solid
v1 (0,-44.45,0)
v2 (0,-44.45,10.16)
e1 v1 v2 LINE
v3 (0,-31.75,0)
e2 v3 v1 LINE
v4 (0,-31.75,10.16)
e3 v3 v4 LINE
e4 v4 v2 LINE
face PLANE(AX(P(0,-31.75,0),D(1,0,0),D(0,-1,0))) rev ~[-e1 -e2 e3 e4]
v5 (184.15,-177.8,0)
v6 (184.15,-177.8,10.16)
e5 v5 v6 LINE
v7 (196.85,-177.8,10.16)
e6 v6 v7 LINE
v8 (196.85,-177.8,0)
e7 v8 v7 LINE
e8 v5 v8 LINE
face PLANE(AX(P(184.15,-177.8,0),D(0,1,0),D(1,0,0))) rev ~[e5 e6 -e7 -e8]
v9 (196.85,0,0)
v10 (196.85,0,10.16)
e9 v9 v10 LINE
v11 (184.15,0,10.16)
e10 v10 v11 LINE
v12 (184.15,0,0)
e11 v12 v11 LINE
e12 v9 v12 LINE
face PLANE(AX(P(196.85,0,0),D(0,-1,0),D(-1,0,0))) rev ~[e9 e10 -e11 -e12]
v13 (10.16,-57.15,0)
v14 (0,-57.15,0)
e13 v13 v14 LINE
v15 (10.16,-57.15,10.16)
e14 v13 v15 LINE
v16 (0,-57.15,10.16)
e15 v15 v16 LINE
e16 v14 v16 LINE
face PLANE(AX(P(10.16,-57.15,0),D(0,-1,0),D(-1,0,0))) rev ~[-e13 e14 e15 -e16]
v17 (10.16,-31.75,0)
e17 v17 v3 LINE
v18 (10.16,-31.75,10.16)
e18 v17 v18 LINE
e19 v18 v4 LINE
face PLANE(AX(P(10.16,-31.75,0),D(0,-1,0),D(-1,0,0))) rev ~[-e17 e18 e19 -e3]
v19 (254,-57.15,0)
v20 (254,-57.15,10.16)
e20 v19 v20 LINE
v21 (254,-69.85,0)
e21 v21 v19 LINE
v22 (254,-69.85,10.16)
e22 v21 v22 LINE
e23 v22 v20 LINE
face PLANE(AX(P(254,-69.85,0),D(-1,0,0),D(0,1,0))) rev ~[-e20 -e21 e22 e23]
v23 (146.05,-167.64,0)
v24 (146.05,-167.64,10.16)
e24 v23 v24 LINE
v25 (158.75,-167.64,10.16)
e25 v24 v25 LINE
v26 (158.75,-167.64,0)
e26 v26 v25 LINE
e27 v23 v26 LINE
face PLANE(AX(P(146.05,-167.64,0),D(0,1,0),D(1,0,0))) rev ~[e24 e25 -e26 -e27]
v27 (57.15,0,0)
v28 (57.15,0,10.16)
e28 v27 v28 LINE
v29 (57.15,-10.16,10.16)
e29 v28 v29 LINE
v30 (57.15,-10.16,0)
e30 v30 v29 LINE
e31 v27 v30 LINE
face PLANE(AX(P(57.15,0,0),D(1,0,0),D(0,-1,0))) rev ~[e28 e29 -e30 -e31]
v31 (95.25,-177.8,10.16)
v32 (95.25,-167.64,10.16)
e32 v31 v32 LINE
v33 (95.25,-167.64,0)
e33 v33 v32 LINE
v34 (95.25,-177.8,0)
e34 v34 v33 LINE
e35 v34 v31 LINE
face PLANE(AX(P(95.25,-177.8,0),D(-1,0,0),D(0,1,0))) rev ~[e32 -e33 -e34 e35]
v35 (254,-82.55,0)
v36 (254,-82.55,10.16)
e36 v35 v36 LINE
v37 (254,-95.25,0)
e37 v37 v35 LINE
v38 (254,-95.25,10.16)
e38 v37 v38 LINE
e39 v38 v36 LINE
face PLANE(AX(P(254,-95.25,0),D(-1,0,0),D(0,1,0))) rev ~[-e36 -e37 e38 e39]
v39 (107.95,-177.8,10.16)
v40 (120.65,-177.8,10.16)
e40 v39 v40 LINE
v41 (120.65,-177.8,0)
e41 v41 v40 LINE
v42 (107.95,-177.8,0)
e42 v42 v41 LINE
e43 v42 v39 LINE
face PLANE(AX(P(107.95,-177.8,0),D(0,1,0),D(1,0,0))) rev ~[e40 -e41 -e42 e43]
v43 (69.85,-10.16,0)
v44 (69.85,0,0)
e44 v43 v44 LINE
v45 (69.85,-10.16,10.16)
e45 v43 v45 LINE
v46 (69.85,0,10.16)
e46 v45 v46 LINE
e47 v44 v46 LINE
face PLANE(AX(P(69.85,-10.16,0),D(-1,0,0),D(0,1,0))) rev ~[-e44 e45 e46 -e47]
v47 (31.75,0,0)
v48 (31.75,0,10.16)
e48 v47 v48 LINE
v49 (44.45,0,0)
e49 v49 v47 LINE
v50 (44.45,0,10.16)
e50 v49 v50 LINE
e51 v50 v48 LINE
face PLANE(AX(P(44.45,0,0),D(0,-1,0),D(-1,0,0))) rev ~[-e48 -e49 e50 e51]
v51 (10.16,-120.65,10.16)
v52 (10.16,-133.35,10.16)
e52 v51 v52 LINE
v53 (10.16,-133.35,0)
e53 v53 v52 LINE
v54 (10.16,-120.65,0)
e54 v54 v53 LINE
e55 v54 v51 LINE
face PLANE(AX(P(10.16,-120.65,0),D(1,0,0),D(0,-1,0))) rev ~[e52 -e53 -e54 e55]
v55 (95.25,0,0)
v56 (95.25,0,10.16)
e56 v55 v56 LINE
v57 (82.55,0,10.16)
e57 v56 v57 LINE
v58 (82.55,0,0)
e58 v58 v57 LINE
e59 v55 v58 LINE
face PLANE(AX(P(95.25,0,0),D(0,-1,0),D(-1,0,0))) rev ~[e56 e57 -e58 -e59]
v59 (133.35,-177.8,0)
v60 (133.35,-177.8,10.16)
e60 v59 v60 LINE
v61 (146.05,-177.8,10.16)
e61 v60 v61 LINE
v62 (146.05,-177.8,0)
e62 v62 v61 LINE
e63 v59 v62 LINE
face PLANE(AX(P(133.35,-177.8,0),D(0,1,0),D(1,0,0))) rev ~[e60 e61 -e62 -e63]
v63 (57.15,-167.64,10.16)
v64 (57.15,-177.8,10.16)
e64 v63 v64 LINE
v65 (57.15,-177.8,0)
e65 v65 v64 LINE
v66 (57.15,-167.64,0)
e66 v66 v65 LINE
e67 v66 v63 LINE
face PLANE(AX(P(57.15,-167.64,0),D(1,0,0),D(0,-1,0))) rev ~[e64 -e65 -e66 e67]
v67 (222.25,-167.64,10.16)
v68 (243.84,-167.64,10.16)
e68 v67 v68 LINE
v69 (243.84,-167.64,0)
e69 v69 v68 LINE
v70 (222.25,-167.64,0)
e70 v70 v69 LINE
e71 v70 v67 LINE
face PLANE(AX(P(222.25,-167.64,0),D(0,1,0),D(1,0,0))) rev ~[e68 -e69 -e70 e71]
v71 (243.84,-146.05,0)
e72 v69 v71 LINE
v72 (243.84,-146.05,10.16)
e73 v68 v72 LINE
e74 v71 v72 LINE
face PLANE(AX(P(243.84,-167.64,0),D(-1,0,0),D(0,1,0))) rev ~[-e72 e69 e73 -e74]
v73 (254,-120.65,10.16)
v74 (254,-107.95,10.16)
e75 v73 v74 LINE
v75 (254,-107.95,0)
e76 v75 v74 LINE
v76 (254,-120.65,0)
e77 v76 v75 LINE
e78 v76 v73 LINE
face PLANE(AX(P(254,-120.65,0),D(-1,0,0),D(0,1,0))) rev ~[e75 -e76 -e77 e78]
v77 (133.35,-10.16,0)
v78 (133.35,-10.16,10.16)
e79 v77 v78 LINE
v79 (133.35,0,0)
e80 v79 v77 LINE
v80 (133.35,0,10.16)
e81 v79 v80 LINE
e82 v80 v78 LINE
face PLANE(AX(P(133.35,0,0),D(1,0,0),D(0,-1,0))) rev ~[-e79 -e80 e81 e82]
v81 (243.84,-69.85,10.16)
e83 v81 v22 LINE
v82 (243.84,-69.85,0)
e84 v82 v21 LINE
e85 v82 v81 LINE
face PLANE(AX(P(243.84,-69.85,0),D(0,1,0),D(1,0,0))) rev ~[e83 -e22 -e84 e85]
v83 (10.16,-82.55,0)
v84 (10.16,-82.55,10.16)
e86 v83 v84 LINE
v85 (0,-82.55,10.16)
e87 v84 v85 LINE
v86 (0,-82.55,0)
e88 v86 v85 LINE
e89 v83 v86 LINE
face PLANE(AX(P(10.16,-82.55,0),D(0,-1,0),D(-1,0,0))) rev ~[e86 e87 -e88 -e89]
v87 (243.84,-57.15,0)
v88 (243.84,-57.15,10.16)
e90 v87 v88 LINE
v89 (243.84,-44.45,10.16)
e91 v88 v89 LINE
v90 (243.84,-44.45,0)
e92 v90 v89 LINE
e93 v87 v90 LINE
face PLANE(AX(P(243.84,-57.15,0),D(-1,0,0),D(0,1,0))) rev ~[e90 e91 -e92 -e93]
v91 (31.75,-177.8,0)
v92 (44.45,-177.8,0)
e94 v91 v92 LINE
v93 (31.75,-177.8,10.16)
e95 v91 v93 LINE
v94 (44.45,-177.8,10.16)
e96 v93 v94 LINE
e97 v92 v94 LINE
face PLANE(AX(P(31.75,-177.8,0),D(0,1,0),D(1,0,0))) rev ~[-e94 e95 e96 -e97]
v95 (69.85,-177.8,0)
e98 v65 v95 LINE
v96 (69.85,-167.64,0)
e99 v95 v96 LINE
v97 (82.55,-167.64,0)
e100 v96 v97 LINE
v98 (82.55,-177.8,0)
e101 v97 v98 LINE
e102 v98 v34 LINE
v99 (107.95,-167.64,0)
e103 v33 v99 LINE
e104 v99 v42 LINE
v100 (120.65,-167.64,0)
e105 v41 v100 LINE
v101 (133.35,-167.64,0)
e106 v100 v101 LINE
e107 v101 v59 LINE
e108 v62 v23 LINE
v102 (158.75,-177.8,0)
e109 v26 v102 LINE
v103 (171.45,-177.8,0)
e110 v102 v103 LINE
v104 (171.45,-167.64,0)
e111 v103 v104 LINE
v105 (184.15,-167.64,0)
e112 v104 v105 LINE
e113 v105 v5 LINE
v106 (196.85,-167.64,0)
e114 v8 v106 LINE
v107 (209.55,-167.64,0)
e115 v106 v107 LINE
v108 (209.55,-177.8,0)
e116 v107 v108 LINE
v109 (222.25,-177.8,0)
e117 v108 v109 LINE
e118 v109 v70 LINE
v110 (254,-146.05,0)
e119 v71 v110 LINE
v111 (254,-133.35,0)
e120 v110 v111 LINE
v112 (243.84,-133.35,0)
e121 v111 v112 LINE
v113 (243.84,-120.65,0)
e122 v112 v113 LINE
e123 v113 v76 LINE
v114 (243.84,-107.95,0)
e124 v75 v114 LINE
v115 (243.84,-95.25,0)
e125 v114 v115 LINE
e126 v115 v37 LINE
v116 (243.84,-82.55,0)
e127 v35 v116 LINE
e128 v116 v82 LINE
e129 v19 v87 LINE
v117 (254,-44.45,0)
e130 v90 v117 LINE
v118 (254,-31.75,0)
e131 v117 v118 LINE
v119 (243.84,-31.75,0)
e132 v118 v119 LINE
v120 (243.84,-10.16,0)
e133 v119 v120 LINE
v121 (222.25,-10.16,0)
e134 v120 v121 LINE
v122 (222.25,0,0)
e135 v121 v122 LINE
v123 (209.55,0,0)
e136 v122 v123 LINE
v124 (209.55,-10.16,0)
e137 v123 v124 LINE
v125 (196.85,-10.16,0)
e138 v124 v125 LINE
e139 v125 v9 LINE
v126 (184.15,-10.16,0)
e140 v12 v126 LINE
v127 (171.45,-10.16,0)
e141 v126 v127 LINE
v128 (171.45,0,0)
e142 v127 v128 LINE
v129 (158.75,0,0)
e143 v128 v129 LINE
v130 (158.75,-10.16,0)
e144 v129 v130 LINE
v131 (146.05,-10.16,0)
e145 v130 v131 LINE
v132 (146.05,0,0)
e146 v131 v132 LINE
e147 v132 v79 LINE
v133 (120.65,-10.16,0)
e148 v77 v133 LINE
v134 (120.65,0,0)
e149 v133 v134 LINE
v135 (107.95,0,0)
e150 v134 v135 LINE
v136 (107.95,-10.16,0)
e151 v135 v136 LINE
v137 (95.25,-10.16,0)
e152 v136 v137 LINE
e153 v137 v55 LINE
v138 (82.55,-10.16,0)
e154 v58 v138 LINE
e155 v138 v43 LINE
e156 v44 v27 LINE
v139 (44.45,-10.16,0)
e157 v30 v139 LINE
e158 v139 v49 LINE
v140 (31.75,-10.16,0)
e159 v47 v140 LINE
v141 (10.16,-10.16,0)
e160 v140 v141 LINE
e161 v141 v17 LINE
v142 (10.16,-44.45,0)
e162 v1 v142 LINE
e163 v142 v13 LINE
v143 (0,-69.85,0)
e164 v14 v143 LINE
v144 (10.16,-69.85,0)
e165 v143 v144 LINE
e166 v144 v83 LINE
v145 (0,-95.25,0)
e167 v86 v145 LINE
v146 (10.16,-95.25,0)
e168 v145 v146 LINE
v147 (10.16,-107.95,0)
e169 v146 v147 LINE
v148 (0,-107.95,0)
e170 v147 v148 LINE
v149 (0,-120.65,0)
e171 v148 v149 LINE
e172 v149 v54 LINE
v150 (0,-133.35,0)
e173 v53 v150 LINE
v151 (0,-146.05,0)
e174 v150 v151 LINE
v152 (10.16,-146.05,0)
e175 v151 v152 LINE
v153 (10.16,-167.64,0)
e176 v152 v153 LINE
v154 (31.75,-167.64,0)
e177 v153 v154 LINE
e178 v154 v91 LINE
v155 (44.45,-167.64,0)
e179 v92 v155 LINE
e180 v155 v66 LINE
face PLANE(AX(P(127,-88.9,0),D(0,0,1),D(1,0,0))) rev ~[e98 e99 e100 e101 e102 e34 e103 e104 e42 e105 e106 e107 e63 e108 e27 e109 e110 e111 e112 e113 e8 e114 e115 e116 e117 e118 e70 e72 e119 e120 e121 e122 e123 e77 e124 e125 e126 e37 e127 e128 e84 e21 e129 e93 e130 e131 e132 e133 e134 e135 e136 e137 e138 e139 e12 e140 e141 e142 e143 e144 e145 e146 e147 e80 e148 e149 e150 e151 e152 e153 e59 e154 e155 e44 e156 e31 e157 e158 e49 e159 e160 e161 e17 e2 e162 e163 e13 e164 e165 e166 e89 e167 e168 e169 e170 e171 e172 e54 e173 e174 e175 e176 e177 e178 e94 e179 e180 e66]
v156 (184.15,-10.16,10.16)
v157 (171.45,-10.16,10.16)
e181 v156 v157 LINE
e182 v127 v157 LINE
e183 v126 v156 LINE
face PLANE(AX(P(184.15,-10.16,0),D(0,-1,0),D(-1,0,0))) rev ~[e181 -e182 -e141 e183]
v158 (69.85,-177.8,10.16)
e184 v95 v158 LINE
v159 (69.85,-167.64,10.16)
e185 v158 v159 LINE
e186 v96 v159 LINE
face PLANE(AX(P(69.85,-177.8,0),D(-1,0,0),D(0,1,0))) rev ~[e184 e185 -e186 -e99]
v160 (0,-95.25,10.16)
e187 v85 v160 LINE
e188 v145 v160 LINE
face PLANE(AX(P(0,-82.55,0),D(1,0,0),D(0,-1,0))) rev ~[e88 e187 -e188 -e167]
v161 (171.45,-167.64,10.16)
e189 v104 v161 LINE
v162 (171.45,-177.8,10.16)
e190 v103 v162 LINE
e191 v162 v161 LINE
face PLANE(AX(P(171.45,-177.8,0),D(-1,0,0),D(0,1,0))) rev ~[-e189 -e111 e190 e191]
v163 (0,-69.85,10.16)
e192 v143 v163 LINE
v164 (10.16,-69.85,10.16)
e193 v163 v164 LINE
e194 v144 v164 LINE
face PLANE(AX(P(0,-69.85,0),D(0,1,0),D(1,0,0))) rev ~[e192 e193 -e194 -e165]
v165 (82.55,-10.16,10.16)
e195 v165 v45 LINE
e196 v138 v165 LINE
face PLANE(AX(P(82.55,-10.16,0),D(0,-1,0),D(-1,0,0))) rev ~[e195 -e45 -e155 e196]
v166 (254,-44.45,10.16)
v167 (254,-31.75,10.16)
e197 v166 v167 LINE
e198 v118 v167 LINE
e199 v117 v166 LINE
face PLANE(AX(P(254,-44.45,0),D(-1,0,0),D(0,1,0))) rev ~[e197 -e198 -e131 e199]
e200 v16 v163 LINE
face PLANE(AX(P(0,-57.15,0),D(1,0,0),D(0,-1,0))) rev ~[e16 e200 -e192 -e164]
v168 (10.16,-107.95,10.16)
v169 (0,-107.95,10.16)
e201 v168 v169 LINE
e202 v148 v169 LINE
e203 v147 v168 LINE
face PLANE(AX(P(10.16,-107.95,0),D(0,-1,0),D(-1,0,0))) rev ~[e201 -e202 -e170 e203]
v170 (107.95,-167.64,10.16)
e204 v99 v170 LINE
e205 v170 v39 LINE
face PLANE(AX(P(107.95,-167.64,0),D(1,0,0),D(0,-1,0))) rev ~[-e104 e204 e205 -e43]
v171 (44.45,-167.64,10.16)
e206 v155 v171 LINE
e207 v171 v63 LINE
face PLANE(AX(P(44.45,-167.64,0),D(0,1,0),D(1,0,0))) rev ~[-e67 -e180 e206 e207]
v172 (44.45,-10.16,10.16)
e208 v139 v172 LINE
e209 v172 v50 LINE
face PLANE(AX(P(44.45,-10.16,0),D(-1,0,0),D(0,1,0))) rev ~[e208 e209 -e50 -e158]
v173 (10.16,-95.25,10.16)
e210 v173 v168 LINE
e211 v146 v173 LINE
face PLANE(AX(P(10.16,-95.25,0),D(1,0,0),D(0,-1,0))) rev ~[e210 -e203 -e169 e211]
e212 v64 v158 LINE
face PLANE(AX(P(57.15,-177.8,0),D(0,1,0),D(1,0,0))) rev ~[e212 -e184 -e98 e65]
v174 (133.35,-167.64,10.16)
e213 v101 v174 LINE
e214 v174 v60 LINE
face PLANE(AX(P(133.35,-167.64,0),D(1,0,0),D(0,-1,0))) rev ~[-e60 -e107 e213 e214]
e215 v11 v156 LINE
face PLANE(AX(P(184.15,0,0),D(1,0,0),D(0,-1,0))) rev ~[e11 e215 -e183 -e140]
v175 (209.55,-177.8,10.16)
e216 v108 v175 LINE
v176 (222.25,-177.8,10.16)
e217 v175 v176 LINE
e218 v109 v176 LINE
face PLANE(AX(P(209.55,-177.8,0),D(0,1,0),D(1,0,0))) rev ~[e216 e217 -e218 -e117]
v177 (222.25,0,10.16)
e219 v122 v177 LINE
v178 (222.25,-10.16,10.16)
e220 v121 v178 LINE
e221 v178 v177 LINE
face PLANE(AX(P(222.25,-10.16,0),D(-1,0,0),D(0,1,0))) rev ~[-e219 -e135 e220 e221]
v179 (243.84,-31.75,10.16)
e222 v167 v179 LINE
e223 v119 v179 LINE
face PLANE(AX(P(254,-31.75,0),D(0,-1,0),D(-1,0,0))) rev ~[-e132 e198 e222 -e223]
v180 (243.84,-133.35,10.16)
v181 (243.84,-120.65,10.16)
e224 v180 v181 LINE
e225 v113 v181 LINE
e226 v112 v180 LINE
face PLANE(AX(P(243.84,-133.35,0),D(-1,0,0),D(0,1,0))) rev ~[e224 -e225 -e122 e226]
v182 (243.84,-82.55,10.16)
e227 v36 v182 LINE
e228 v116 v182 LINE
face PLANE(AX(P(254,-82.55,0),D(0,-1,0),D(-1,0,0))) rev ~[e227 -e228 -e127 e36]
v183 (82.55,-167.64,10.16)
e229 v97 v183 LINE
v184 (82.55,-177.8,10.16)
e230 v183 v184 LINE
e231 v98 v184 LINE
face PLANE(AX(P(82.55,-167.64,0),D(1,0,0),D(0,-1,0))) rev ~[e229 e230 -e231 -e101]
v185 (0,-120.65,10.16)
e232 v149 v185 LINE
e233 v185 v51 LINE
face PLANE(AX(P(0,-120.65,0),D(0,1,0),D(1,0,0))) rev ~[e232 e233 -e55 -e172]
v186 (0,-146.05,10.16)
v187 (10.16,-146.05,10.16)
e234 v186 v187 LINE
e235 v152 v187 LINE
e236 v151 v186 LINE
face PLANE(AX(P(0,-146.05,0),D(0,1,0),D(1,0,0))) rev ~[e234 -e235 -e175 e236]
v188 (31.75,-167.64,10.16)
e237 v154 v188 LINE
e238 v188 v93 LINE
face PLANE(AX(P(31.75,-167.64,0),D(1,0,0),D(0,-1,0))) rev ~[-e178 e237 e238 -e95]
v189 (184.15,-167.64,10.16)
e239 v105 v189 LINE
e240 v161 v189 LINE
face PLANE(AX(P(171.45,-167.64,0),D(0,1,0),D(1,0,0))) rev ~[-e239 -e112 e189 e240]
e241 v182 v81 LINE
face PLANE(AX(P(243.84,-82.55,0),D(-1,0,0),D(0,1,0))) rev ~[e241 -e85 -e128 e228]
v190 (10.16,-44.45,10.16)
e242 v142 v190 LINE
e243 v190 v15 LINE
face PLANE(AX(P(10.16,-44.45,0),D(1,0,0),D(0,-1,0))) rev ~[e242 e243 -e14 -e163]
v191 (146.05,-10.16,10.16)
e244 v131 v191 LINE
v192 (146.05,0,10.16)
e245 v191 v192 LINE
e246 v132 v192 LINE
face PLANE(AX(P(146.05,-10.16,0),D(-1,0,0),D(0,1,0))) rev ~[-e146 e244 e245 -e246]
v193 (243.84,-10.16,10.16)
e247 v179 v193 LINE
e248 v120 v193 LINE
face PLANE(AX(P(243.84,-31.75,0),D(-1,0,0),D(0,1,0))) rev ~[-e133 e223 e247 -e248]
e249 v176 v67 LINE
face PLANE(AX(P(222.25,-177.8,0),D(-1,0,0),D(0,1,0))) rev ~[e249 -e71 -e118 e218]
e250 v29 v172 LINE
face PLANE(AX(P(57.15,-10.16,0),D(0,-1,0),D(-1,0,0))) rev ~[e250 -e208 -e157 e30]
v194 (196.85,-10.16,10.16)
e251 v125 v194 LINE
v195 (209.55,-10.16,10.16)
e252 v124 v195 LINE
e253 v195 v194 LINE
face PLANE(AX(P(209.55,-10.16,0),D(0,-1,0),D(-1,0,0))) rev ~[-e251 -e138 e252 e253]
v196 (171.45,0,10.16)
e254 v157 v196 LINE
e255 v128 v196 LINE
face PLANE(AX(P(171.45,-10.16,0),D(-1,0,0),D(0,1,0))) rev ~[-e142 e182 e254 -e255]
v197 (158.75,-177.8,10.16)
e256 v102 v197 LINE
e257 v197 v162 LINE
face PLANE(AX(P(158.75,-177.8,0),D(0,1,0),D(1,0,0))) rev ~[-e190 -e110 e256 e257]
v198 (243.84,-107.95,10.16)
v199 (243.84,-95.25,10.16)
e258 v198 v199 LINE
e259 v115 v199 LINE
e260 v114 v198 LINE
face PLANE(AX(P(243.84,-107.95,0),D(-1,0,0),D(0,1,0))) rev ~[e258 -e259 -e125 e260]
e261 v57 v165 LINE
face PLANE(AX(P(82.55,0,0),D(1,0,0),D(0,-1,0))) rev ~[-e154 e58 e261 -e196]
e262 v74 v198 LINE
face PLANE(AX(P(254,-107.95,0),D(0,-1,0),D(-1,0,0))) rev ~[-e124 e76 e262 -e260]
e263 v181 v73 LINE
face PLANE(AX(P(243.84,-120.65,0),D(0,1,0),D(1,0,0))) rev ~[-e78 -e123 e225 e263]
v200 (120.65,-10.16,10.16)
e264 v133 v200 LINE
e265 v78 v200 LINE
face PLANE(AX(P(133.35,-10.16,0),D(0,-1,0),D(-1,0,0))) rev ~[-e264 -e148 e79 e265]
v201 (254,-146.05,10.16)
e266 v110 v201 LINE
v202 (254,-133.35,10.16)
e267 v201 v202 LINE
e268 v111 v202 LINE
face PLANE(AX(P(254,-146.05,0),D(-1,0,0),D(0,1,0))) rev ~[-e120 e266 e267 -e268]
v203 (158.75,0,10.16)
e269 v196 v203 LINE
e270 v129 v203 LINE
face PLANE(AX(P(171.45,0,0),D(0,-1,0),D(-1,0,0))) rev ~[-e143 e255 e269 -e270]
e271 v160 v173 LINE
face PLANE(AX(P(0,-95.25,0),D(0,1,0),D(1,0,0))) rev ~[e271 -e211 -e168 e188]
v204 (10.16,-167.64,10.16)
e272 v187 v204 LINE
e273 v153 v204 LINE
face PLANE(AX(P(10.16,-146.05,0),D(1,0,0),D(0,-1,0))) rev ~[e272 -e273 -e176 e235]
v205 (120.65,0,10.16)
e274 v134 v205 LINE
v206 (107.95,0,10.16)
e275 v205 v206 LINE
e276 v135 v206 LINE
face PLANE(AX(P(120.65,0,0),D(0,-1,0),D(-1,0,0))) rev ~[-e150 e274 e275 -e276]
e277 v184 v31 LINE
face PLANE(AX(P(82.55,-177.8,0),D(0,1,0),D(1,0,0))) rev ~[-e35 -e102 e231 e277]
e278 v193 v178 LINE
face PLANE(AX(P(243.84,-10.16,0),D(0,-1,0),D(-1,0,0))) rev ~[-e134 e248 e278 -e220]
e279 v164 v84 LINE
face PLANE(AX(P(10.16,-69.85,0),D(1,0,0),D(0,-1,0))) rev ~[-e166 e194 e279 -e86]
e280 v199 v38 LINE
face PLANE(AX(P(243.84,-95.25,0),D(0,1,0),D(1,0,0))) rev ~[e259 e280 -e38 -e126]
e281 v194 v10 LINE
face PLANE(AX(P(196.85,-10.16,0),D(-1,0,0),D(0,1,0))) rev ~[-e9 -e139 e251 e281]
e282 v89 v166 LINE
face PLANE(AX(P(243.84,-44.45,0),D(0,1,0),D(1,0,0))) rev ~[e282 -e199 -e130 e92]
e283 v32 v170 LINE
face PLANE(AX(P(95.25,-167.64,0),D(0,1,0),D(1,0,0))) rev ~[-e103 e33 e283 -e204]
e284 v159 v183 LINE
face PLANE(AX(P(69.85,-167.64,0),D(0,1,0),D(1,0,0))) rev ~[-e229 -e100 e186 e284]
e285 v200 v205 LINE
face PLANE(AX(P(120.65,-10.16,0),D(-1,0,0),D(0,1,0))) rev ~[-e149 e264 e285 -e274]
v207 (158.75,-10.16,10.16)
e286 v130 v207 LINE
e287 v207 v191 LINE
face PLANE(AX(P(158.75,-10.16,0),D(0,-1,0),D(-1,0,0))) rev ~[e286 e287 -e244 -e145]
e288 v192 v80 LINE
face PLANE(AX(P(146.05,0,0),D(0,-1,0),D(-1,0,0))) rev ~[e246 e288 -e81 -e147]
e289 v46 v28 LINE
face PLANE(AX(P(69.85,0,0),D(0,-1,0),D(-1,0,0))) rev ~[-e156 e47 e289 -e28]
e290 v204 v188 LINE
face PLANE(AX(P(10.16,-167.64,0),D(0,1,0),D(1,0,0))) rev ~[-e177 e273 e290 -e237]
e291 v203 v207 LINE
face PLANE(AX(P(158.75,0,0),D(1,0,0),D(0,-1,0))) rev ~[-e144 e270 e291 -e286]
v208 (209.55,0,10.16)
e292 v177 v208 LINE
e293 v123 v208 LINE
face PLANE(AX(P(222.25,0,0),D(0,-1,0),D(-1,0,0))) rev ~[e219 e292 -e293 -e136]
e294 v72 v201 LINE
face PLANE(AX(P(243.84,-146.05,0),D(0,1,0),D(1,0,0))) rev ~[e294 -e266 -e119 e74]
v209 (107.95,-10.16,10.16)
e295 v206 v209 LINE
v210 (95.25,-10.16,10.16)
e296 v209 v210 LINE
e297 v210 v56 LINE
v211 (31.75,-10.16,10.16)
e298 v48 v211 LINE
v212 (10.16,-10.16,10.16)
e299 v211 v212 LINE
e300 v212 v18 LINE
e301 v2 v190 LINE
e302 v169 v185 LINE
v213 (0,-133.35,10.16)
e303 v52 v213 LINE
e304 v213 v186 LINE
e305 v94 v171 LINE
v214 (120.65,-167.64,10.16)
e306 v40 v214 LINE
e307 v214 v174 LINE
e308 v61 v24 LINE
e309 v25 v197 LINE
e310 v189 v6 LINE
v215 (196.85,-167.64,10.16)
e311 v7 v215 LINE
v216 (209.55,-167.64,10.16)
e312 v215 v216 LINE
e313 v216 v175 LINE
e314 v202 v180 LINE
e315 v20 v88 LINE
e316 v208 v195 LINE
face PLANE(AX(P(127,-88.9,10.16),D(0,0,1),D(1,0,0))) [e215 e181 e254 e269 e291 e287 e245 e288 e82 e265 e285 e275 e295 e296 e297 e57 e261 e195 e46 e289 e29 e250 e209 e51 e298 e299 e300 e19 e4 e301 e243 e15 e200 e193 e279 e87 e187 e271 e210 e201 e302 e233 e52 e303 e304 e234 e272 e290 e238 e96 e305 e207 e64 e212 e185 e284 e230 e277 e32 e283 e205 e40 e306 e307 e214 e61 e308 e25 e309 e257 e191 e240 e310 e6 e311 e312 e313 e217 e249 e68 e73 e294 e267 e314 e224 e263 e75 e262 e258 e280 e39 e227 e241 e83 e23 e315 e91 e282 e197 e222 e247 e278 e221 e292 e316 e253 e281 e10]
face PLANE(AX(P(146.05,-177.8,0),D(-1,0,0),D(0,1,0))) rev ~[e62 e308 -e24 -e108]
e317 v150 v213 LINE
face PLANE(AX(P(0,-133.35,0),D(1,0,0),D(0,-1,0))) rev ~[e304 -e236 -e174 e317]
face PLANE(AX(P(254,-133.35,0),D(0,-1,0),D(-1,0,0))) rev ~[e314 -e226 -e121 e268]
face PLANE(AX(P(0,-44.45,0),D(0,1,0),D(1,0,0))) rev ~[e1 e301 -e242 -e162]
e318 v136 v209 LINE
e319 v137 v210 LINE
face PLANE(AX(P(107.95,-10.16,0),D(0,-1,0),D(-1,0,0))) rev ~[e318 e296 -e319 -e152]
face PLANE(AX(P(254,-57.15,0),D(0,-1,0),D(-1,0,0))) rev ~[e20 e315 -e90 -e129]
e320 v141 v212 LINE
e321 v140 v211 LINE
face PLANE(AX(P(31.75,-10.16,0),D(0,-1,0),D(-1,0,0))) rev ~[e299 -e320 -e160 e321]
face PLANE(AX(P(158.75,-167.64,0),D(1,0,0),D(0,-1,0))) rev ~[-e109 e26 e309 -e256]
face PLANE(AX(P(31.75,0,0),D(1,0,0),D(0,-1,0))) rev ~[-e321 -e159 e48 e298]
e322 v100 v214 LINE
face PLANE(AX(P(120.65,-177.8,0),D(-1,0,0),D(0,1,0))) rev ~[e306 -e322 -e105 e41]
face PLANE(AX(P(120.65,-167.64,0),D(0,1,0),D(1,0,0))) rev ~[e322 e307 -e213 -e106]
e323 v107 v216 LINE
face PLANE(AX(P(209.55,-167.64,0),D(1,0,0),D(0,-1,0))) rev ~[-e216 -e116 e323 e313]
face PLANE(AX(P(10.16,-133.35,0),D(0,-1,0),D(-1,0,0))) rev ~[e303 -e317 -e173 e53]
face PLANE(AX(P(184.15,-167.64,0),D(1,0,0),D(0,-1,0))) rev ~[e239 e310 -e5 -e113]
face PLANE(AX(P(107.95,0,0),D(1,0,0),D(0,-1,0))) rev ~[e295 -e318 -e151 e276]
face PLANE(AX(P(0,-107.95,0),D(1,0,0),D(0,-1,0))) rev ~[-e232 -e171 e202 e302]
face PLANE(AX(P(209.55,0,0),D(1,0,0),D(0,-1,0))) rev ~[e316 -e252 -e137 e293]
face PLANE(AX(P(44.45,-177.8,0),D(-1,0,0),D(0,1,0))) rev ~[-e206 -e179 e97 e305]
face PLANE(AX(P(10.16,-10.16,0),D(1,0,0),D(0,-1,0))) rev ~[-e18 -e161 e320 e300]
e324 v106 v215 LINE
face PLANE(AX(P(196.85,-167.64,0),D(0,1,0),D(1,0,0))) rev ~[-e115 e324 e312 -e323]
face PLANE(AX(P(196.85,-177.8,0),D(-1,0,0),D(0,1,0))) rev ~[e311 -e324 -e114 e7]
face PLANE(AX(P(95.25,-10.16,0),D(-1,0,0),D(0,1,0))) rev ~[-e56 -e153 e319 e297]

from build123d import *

# Parameters (mm, degrees)
F1_DEPTH = 10.16


with BuildPart() as f1:
    # F0 (on Top) → F1 (new body)
    with BuildSketch(Plane.XY):
        Polygon((44.45, 0), (31.75, 0), (31.75, -10.16), (10.16, -10.16), (10.16, -31.75), (0, -31.75), (0, -44.45), (10.16, -44.45), (10.16, -57.15), (0, -57.15), (0, -69.85), (10.16, -69.85), (10.16, -82.55), (0, -82.55), (0, -95.25), (10.16, -95.25), (10.16, -107.95), (0, -107.95), (0, -120.65), (10.16, -120.65), (10.16, -133.35), (0, -133.35), (0, -146.05), (10.16, -146.05), (10.16, -167.64), (31.75, -167.64), (31.75, -177.8), (44.45, -177.8), (44.45, -167.64), (57.15, -167.64), (57.15, -177.8), (69.85, -177.8), (69.85, -167.64), (82.55, -167.64), (82.55, -177.8), (95.25, -177.8), (95.25, -167.64), (107.95, -167.64), (107.95, -177.8), (120.65, -177.8), (120.65, -167.64), (133.35, -167.64), (133.35, -177.8), (146.05, -177.8), (146.05, -167.64), (158.75, -167.64), (158.75, -177.8), (171.45, -177.8), (171.45, -167.64), (184.15, -167.64), (184.15, -177.8), (196.85, -177.8), (196.85, -167.64), (209.55, -167.64), (209.55, -177.8), (222.25, -177.8), (222.25, -167.64), (243.84, -167.64), (243.84, -146.05), (254, -146.05), (254, -133.35), (243.84, -133.35), (243.84, -120.65), (254, -120.65), (254, -107.95), (243.84, -107.95), (243.84, -95.25), (254, -95.25), (254, -82.55), (243.84, -82.55), (243.84, -69.85), (254, -69.85), (254, -57.15), (243.84, -57.15), (243.84, -44.45), (254, -44.45), (254, -31.75), (243.84, -31.75), (243.84, -10.16), (222.25, -10.16), (222.25, 0), (209.55, 0), (209.55, -10.16), (196.85, -10.16), (196.85, 0), (184.15, 0), (184.15, -10.16), (171.45, -10.16), (171.45, 0), (158.75, 0), (158.75, -10.16), (146.05, -10.16), (146.05, 0), (133.35, 0), (133.35, -10.16), (120.65, -10.16), (120.65, 0), (107.95, 0), (107.95, -10.16), (95.25, -10.16), (95.25, 0), (82.55, 0), (82.55, -10.16), (69.85, -10.16), (69.85, 0), (57.15, 0), (57.15, -10.16), (44.45, -10.16), align=None)
    extrude(amount=F1_DEPTH)


solid = f1.part
